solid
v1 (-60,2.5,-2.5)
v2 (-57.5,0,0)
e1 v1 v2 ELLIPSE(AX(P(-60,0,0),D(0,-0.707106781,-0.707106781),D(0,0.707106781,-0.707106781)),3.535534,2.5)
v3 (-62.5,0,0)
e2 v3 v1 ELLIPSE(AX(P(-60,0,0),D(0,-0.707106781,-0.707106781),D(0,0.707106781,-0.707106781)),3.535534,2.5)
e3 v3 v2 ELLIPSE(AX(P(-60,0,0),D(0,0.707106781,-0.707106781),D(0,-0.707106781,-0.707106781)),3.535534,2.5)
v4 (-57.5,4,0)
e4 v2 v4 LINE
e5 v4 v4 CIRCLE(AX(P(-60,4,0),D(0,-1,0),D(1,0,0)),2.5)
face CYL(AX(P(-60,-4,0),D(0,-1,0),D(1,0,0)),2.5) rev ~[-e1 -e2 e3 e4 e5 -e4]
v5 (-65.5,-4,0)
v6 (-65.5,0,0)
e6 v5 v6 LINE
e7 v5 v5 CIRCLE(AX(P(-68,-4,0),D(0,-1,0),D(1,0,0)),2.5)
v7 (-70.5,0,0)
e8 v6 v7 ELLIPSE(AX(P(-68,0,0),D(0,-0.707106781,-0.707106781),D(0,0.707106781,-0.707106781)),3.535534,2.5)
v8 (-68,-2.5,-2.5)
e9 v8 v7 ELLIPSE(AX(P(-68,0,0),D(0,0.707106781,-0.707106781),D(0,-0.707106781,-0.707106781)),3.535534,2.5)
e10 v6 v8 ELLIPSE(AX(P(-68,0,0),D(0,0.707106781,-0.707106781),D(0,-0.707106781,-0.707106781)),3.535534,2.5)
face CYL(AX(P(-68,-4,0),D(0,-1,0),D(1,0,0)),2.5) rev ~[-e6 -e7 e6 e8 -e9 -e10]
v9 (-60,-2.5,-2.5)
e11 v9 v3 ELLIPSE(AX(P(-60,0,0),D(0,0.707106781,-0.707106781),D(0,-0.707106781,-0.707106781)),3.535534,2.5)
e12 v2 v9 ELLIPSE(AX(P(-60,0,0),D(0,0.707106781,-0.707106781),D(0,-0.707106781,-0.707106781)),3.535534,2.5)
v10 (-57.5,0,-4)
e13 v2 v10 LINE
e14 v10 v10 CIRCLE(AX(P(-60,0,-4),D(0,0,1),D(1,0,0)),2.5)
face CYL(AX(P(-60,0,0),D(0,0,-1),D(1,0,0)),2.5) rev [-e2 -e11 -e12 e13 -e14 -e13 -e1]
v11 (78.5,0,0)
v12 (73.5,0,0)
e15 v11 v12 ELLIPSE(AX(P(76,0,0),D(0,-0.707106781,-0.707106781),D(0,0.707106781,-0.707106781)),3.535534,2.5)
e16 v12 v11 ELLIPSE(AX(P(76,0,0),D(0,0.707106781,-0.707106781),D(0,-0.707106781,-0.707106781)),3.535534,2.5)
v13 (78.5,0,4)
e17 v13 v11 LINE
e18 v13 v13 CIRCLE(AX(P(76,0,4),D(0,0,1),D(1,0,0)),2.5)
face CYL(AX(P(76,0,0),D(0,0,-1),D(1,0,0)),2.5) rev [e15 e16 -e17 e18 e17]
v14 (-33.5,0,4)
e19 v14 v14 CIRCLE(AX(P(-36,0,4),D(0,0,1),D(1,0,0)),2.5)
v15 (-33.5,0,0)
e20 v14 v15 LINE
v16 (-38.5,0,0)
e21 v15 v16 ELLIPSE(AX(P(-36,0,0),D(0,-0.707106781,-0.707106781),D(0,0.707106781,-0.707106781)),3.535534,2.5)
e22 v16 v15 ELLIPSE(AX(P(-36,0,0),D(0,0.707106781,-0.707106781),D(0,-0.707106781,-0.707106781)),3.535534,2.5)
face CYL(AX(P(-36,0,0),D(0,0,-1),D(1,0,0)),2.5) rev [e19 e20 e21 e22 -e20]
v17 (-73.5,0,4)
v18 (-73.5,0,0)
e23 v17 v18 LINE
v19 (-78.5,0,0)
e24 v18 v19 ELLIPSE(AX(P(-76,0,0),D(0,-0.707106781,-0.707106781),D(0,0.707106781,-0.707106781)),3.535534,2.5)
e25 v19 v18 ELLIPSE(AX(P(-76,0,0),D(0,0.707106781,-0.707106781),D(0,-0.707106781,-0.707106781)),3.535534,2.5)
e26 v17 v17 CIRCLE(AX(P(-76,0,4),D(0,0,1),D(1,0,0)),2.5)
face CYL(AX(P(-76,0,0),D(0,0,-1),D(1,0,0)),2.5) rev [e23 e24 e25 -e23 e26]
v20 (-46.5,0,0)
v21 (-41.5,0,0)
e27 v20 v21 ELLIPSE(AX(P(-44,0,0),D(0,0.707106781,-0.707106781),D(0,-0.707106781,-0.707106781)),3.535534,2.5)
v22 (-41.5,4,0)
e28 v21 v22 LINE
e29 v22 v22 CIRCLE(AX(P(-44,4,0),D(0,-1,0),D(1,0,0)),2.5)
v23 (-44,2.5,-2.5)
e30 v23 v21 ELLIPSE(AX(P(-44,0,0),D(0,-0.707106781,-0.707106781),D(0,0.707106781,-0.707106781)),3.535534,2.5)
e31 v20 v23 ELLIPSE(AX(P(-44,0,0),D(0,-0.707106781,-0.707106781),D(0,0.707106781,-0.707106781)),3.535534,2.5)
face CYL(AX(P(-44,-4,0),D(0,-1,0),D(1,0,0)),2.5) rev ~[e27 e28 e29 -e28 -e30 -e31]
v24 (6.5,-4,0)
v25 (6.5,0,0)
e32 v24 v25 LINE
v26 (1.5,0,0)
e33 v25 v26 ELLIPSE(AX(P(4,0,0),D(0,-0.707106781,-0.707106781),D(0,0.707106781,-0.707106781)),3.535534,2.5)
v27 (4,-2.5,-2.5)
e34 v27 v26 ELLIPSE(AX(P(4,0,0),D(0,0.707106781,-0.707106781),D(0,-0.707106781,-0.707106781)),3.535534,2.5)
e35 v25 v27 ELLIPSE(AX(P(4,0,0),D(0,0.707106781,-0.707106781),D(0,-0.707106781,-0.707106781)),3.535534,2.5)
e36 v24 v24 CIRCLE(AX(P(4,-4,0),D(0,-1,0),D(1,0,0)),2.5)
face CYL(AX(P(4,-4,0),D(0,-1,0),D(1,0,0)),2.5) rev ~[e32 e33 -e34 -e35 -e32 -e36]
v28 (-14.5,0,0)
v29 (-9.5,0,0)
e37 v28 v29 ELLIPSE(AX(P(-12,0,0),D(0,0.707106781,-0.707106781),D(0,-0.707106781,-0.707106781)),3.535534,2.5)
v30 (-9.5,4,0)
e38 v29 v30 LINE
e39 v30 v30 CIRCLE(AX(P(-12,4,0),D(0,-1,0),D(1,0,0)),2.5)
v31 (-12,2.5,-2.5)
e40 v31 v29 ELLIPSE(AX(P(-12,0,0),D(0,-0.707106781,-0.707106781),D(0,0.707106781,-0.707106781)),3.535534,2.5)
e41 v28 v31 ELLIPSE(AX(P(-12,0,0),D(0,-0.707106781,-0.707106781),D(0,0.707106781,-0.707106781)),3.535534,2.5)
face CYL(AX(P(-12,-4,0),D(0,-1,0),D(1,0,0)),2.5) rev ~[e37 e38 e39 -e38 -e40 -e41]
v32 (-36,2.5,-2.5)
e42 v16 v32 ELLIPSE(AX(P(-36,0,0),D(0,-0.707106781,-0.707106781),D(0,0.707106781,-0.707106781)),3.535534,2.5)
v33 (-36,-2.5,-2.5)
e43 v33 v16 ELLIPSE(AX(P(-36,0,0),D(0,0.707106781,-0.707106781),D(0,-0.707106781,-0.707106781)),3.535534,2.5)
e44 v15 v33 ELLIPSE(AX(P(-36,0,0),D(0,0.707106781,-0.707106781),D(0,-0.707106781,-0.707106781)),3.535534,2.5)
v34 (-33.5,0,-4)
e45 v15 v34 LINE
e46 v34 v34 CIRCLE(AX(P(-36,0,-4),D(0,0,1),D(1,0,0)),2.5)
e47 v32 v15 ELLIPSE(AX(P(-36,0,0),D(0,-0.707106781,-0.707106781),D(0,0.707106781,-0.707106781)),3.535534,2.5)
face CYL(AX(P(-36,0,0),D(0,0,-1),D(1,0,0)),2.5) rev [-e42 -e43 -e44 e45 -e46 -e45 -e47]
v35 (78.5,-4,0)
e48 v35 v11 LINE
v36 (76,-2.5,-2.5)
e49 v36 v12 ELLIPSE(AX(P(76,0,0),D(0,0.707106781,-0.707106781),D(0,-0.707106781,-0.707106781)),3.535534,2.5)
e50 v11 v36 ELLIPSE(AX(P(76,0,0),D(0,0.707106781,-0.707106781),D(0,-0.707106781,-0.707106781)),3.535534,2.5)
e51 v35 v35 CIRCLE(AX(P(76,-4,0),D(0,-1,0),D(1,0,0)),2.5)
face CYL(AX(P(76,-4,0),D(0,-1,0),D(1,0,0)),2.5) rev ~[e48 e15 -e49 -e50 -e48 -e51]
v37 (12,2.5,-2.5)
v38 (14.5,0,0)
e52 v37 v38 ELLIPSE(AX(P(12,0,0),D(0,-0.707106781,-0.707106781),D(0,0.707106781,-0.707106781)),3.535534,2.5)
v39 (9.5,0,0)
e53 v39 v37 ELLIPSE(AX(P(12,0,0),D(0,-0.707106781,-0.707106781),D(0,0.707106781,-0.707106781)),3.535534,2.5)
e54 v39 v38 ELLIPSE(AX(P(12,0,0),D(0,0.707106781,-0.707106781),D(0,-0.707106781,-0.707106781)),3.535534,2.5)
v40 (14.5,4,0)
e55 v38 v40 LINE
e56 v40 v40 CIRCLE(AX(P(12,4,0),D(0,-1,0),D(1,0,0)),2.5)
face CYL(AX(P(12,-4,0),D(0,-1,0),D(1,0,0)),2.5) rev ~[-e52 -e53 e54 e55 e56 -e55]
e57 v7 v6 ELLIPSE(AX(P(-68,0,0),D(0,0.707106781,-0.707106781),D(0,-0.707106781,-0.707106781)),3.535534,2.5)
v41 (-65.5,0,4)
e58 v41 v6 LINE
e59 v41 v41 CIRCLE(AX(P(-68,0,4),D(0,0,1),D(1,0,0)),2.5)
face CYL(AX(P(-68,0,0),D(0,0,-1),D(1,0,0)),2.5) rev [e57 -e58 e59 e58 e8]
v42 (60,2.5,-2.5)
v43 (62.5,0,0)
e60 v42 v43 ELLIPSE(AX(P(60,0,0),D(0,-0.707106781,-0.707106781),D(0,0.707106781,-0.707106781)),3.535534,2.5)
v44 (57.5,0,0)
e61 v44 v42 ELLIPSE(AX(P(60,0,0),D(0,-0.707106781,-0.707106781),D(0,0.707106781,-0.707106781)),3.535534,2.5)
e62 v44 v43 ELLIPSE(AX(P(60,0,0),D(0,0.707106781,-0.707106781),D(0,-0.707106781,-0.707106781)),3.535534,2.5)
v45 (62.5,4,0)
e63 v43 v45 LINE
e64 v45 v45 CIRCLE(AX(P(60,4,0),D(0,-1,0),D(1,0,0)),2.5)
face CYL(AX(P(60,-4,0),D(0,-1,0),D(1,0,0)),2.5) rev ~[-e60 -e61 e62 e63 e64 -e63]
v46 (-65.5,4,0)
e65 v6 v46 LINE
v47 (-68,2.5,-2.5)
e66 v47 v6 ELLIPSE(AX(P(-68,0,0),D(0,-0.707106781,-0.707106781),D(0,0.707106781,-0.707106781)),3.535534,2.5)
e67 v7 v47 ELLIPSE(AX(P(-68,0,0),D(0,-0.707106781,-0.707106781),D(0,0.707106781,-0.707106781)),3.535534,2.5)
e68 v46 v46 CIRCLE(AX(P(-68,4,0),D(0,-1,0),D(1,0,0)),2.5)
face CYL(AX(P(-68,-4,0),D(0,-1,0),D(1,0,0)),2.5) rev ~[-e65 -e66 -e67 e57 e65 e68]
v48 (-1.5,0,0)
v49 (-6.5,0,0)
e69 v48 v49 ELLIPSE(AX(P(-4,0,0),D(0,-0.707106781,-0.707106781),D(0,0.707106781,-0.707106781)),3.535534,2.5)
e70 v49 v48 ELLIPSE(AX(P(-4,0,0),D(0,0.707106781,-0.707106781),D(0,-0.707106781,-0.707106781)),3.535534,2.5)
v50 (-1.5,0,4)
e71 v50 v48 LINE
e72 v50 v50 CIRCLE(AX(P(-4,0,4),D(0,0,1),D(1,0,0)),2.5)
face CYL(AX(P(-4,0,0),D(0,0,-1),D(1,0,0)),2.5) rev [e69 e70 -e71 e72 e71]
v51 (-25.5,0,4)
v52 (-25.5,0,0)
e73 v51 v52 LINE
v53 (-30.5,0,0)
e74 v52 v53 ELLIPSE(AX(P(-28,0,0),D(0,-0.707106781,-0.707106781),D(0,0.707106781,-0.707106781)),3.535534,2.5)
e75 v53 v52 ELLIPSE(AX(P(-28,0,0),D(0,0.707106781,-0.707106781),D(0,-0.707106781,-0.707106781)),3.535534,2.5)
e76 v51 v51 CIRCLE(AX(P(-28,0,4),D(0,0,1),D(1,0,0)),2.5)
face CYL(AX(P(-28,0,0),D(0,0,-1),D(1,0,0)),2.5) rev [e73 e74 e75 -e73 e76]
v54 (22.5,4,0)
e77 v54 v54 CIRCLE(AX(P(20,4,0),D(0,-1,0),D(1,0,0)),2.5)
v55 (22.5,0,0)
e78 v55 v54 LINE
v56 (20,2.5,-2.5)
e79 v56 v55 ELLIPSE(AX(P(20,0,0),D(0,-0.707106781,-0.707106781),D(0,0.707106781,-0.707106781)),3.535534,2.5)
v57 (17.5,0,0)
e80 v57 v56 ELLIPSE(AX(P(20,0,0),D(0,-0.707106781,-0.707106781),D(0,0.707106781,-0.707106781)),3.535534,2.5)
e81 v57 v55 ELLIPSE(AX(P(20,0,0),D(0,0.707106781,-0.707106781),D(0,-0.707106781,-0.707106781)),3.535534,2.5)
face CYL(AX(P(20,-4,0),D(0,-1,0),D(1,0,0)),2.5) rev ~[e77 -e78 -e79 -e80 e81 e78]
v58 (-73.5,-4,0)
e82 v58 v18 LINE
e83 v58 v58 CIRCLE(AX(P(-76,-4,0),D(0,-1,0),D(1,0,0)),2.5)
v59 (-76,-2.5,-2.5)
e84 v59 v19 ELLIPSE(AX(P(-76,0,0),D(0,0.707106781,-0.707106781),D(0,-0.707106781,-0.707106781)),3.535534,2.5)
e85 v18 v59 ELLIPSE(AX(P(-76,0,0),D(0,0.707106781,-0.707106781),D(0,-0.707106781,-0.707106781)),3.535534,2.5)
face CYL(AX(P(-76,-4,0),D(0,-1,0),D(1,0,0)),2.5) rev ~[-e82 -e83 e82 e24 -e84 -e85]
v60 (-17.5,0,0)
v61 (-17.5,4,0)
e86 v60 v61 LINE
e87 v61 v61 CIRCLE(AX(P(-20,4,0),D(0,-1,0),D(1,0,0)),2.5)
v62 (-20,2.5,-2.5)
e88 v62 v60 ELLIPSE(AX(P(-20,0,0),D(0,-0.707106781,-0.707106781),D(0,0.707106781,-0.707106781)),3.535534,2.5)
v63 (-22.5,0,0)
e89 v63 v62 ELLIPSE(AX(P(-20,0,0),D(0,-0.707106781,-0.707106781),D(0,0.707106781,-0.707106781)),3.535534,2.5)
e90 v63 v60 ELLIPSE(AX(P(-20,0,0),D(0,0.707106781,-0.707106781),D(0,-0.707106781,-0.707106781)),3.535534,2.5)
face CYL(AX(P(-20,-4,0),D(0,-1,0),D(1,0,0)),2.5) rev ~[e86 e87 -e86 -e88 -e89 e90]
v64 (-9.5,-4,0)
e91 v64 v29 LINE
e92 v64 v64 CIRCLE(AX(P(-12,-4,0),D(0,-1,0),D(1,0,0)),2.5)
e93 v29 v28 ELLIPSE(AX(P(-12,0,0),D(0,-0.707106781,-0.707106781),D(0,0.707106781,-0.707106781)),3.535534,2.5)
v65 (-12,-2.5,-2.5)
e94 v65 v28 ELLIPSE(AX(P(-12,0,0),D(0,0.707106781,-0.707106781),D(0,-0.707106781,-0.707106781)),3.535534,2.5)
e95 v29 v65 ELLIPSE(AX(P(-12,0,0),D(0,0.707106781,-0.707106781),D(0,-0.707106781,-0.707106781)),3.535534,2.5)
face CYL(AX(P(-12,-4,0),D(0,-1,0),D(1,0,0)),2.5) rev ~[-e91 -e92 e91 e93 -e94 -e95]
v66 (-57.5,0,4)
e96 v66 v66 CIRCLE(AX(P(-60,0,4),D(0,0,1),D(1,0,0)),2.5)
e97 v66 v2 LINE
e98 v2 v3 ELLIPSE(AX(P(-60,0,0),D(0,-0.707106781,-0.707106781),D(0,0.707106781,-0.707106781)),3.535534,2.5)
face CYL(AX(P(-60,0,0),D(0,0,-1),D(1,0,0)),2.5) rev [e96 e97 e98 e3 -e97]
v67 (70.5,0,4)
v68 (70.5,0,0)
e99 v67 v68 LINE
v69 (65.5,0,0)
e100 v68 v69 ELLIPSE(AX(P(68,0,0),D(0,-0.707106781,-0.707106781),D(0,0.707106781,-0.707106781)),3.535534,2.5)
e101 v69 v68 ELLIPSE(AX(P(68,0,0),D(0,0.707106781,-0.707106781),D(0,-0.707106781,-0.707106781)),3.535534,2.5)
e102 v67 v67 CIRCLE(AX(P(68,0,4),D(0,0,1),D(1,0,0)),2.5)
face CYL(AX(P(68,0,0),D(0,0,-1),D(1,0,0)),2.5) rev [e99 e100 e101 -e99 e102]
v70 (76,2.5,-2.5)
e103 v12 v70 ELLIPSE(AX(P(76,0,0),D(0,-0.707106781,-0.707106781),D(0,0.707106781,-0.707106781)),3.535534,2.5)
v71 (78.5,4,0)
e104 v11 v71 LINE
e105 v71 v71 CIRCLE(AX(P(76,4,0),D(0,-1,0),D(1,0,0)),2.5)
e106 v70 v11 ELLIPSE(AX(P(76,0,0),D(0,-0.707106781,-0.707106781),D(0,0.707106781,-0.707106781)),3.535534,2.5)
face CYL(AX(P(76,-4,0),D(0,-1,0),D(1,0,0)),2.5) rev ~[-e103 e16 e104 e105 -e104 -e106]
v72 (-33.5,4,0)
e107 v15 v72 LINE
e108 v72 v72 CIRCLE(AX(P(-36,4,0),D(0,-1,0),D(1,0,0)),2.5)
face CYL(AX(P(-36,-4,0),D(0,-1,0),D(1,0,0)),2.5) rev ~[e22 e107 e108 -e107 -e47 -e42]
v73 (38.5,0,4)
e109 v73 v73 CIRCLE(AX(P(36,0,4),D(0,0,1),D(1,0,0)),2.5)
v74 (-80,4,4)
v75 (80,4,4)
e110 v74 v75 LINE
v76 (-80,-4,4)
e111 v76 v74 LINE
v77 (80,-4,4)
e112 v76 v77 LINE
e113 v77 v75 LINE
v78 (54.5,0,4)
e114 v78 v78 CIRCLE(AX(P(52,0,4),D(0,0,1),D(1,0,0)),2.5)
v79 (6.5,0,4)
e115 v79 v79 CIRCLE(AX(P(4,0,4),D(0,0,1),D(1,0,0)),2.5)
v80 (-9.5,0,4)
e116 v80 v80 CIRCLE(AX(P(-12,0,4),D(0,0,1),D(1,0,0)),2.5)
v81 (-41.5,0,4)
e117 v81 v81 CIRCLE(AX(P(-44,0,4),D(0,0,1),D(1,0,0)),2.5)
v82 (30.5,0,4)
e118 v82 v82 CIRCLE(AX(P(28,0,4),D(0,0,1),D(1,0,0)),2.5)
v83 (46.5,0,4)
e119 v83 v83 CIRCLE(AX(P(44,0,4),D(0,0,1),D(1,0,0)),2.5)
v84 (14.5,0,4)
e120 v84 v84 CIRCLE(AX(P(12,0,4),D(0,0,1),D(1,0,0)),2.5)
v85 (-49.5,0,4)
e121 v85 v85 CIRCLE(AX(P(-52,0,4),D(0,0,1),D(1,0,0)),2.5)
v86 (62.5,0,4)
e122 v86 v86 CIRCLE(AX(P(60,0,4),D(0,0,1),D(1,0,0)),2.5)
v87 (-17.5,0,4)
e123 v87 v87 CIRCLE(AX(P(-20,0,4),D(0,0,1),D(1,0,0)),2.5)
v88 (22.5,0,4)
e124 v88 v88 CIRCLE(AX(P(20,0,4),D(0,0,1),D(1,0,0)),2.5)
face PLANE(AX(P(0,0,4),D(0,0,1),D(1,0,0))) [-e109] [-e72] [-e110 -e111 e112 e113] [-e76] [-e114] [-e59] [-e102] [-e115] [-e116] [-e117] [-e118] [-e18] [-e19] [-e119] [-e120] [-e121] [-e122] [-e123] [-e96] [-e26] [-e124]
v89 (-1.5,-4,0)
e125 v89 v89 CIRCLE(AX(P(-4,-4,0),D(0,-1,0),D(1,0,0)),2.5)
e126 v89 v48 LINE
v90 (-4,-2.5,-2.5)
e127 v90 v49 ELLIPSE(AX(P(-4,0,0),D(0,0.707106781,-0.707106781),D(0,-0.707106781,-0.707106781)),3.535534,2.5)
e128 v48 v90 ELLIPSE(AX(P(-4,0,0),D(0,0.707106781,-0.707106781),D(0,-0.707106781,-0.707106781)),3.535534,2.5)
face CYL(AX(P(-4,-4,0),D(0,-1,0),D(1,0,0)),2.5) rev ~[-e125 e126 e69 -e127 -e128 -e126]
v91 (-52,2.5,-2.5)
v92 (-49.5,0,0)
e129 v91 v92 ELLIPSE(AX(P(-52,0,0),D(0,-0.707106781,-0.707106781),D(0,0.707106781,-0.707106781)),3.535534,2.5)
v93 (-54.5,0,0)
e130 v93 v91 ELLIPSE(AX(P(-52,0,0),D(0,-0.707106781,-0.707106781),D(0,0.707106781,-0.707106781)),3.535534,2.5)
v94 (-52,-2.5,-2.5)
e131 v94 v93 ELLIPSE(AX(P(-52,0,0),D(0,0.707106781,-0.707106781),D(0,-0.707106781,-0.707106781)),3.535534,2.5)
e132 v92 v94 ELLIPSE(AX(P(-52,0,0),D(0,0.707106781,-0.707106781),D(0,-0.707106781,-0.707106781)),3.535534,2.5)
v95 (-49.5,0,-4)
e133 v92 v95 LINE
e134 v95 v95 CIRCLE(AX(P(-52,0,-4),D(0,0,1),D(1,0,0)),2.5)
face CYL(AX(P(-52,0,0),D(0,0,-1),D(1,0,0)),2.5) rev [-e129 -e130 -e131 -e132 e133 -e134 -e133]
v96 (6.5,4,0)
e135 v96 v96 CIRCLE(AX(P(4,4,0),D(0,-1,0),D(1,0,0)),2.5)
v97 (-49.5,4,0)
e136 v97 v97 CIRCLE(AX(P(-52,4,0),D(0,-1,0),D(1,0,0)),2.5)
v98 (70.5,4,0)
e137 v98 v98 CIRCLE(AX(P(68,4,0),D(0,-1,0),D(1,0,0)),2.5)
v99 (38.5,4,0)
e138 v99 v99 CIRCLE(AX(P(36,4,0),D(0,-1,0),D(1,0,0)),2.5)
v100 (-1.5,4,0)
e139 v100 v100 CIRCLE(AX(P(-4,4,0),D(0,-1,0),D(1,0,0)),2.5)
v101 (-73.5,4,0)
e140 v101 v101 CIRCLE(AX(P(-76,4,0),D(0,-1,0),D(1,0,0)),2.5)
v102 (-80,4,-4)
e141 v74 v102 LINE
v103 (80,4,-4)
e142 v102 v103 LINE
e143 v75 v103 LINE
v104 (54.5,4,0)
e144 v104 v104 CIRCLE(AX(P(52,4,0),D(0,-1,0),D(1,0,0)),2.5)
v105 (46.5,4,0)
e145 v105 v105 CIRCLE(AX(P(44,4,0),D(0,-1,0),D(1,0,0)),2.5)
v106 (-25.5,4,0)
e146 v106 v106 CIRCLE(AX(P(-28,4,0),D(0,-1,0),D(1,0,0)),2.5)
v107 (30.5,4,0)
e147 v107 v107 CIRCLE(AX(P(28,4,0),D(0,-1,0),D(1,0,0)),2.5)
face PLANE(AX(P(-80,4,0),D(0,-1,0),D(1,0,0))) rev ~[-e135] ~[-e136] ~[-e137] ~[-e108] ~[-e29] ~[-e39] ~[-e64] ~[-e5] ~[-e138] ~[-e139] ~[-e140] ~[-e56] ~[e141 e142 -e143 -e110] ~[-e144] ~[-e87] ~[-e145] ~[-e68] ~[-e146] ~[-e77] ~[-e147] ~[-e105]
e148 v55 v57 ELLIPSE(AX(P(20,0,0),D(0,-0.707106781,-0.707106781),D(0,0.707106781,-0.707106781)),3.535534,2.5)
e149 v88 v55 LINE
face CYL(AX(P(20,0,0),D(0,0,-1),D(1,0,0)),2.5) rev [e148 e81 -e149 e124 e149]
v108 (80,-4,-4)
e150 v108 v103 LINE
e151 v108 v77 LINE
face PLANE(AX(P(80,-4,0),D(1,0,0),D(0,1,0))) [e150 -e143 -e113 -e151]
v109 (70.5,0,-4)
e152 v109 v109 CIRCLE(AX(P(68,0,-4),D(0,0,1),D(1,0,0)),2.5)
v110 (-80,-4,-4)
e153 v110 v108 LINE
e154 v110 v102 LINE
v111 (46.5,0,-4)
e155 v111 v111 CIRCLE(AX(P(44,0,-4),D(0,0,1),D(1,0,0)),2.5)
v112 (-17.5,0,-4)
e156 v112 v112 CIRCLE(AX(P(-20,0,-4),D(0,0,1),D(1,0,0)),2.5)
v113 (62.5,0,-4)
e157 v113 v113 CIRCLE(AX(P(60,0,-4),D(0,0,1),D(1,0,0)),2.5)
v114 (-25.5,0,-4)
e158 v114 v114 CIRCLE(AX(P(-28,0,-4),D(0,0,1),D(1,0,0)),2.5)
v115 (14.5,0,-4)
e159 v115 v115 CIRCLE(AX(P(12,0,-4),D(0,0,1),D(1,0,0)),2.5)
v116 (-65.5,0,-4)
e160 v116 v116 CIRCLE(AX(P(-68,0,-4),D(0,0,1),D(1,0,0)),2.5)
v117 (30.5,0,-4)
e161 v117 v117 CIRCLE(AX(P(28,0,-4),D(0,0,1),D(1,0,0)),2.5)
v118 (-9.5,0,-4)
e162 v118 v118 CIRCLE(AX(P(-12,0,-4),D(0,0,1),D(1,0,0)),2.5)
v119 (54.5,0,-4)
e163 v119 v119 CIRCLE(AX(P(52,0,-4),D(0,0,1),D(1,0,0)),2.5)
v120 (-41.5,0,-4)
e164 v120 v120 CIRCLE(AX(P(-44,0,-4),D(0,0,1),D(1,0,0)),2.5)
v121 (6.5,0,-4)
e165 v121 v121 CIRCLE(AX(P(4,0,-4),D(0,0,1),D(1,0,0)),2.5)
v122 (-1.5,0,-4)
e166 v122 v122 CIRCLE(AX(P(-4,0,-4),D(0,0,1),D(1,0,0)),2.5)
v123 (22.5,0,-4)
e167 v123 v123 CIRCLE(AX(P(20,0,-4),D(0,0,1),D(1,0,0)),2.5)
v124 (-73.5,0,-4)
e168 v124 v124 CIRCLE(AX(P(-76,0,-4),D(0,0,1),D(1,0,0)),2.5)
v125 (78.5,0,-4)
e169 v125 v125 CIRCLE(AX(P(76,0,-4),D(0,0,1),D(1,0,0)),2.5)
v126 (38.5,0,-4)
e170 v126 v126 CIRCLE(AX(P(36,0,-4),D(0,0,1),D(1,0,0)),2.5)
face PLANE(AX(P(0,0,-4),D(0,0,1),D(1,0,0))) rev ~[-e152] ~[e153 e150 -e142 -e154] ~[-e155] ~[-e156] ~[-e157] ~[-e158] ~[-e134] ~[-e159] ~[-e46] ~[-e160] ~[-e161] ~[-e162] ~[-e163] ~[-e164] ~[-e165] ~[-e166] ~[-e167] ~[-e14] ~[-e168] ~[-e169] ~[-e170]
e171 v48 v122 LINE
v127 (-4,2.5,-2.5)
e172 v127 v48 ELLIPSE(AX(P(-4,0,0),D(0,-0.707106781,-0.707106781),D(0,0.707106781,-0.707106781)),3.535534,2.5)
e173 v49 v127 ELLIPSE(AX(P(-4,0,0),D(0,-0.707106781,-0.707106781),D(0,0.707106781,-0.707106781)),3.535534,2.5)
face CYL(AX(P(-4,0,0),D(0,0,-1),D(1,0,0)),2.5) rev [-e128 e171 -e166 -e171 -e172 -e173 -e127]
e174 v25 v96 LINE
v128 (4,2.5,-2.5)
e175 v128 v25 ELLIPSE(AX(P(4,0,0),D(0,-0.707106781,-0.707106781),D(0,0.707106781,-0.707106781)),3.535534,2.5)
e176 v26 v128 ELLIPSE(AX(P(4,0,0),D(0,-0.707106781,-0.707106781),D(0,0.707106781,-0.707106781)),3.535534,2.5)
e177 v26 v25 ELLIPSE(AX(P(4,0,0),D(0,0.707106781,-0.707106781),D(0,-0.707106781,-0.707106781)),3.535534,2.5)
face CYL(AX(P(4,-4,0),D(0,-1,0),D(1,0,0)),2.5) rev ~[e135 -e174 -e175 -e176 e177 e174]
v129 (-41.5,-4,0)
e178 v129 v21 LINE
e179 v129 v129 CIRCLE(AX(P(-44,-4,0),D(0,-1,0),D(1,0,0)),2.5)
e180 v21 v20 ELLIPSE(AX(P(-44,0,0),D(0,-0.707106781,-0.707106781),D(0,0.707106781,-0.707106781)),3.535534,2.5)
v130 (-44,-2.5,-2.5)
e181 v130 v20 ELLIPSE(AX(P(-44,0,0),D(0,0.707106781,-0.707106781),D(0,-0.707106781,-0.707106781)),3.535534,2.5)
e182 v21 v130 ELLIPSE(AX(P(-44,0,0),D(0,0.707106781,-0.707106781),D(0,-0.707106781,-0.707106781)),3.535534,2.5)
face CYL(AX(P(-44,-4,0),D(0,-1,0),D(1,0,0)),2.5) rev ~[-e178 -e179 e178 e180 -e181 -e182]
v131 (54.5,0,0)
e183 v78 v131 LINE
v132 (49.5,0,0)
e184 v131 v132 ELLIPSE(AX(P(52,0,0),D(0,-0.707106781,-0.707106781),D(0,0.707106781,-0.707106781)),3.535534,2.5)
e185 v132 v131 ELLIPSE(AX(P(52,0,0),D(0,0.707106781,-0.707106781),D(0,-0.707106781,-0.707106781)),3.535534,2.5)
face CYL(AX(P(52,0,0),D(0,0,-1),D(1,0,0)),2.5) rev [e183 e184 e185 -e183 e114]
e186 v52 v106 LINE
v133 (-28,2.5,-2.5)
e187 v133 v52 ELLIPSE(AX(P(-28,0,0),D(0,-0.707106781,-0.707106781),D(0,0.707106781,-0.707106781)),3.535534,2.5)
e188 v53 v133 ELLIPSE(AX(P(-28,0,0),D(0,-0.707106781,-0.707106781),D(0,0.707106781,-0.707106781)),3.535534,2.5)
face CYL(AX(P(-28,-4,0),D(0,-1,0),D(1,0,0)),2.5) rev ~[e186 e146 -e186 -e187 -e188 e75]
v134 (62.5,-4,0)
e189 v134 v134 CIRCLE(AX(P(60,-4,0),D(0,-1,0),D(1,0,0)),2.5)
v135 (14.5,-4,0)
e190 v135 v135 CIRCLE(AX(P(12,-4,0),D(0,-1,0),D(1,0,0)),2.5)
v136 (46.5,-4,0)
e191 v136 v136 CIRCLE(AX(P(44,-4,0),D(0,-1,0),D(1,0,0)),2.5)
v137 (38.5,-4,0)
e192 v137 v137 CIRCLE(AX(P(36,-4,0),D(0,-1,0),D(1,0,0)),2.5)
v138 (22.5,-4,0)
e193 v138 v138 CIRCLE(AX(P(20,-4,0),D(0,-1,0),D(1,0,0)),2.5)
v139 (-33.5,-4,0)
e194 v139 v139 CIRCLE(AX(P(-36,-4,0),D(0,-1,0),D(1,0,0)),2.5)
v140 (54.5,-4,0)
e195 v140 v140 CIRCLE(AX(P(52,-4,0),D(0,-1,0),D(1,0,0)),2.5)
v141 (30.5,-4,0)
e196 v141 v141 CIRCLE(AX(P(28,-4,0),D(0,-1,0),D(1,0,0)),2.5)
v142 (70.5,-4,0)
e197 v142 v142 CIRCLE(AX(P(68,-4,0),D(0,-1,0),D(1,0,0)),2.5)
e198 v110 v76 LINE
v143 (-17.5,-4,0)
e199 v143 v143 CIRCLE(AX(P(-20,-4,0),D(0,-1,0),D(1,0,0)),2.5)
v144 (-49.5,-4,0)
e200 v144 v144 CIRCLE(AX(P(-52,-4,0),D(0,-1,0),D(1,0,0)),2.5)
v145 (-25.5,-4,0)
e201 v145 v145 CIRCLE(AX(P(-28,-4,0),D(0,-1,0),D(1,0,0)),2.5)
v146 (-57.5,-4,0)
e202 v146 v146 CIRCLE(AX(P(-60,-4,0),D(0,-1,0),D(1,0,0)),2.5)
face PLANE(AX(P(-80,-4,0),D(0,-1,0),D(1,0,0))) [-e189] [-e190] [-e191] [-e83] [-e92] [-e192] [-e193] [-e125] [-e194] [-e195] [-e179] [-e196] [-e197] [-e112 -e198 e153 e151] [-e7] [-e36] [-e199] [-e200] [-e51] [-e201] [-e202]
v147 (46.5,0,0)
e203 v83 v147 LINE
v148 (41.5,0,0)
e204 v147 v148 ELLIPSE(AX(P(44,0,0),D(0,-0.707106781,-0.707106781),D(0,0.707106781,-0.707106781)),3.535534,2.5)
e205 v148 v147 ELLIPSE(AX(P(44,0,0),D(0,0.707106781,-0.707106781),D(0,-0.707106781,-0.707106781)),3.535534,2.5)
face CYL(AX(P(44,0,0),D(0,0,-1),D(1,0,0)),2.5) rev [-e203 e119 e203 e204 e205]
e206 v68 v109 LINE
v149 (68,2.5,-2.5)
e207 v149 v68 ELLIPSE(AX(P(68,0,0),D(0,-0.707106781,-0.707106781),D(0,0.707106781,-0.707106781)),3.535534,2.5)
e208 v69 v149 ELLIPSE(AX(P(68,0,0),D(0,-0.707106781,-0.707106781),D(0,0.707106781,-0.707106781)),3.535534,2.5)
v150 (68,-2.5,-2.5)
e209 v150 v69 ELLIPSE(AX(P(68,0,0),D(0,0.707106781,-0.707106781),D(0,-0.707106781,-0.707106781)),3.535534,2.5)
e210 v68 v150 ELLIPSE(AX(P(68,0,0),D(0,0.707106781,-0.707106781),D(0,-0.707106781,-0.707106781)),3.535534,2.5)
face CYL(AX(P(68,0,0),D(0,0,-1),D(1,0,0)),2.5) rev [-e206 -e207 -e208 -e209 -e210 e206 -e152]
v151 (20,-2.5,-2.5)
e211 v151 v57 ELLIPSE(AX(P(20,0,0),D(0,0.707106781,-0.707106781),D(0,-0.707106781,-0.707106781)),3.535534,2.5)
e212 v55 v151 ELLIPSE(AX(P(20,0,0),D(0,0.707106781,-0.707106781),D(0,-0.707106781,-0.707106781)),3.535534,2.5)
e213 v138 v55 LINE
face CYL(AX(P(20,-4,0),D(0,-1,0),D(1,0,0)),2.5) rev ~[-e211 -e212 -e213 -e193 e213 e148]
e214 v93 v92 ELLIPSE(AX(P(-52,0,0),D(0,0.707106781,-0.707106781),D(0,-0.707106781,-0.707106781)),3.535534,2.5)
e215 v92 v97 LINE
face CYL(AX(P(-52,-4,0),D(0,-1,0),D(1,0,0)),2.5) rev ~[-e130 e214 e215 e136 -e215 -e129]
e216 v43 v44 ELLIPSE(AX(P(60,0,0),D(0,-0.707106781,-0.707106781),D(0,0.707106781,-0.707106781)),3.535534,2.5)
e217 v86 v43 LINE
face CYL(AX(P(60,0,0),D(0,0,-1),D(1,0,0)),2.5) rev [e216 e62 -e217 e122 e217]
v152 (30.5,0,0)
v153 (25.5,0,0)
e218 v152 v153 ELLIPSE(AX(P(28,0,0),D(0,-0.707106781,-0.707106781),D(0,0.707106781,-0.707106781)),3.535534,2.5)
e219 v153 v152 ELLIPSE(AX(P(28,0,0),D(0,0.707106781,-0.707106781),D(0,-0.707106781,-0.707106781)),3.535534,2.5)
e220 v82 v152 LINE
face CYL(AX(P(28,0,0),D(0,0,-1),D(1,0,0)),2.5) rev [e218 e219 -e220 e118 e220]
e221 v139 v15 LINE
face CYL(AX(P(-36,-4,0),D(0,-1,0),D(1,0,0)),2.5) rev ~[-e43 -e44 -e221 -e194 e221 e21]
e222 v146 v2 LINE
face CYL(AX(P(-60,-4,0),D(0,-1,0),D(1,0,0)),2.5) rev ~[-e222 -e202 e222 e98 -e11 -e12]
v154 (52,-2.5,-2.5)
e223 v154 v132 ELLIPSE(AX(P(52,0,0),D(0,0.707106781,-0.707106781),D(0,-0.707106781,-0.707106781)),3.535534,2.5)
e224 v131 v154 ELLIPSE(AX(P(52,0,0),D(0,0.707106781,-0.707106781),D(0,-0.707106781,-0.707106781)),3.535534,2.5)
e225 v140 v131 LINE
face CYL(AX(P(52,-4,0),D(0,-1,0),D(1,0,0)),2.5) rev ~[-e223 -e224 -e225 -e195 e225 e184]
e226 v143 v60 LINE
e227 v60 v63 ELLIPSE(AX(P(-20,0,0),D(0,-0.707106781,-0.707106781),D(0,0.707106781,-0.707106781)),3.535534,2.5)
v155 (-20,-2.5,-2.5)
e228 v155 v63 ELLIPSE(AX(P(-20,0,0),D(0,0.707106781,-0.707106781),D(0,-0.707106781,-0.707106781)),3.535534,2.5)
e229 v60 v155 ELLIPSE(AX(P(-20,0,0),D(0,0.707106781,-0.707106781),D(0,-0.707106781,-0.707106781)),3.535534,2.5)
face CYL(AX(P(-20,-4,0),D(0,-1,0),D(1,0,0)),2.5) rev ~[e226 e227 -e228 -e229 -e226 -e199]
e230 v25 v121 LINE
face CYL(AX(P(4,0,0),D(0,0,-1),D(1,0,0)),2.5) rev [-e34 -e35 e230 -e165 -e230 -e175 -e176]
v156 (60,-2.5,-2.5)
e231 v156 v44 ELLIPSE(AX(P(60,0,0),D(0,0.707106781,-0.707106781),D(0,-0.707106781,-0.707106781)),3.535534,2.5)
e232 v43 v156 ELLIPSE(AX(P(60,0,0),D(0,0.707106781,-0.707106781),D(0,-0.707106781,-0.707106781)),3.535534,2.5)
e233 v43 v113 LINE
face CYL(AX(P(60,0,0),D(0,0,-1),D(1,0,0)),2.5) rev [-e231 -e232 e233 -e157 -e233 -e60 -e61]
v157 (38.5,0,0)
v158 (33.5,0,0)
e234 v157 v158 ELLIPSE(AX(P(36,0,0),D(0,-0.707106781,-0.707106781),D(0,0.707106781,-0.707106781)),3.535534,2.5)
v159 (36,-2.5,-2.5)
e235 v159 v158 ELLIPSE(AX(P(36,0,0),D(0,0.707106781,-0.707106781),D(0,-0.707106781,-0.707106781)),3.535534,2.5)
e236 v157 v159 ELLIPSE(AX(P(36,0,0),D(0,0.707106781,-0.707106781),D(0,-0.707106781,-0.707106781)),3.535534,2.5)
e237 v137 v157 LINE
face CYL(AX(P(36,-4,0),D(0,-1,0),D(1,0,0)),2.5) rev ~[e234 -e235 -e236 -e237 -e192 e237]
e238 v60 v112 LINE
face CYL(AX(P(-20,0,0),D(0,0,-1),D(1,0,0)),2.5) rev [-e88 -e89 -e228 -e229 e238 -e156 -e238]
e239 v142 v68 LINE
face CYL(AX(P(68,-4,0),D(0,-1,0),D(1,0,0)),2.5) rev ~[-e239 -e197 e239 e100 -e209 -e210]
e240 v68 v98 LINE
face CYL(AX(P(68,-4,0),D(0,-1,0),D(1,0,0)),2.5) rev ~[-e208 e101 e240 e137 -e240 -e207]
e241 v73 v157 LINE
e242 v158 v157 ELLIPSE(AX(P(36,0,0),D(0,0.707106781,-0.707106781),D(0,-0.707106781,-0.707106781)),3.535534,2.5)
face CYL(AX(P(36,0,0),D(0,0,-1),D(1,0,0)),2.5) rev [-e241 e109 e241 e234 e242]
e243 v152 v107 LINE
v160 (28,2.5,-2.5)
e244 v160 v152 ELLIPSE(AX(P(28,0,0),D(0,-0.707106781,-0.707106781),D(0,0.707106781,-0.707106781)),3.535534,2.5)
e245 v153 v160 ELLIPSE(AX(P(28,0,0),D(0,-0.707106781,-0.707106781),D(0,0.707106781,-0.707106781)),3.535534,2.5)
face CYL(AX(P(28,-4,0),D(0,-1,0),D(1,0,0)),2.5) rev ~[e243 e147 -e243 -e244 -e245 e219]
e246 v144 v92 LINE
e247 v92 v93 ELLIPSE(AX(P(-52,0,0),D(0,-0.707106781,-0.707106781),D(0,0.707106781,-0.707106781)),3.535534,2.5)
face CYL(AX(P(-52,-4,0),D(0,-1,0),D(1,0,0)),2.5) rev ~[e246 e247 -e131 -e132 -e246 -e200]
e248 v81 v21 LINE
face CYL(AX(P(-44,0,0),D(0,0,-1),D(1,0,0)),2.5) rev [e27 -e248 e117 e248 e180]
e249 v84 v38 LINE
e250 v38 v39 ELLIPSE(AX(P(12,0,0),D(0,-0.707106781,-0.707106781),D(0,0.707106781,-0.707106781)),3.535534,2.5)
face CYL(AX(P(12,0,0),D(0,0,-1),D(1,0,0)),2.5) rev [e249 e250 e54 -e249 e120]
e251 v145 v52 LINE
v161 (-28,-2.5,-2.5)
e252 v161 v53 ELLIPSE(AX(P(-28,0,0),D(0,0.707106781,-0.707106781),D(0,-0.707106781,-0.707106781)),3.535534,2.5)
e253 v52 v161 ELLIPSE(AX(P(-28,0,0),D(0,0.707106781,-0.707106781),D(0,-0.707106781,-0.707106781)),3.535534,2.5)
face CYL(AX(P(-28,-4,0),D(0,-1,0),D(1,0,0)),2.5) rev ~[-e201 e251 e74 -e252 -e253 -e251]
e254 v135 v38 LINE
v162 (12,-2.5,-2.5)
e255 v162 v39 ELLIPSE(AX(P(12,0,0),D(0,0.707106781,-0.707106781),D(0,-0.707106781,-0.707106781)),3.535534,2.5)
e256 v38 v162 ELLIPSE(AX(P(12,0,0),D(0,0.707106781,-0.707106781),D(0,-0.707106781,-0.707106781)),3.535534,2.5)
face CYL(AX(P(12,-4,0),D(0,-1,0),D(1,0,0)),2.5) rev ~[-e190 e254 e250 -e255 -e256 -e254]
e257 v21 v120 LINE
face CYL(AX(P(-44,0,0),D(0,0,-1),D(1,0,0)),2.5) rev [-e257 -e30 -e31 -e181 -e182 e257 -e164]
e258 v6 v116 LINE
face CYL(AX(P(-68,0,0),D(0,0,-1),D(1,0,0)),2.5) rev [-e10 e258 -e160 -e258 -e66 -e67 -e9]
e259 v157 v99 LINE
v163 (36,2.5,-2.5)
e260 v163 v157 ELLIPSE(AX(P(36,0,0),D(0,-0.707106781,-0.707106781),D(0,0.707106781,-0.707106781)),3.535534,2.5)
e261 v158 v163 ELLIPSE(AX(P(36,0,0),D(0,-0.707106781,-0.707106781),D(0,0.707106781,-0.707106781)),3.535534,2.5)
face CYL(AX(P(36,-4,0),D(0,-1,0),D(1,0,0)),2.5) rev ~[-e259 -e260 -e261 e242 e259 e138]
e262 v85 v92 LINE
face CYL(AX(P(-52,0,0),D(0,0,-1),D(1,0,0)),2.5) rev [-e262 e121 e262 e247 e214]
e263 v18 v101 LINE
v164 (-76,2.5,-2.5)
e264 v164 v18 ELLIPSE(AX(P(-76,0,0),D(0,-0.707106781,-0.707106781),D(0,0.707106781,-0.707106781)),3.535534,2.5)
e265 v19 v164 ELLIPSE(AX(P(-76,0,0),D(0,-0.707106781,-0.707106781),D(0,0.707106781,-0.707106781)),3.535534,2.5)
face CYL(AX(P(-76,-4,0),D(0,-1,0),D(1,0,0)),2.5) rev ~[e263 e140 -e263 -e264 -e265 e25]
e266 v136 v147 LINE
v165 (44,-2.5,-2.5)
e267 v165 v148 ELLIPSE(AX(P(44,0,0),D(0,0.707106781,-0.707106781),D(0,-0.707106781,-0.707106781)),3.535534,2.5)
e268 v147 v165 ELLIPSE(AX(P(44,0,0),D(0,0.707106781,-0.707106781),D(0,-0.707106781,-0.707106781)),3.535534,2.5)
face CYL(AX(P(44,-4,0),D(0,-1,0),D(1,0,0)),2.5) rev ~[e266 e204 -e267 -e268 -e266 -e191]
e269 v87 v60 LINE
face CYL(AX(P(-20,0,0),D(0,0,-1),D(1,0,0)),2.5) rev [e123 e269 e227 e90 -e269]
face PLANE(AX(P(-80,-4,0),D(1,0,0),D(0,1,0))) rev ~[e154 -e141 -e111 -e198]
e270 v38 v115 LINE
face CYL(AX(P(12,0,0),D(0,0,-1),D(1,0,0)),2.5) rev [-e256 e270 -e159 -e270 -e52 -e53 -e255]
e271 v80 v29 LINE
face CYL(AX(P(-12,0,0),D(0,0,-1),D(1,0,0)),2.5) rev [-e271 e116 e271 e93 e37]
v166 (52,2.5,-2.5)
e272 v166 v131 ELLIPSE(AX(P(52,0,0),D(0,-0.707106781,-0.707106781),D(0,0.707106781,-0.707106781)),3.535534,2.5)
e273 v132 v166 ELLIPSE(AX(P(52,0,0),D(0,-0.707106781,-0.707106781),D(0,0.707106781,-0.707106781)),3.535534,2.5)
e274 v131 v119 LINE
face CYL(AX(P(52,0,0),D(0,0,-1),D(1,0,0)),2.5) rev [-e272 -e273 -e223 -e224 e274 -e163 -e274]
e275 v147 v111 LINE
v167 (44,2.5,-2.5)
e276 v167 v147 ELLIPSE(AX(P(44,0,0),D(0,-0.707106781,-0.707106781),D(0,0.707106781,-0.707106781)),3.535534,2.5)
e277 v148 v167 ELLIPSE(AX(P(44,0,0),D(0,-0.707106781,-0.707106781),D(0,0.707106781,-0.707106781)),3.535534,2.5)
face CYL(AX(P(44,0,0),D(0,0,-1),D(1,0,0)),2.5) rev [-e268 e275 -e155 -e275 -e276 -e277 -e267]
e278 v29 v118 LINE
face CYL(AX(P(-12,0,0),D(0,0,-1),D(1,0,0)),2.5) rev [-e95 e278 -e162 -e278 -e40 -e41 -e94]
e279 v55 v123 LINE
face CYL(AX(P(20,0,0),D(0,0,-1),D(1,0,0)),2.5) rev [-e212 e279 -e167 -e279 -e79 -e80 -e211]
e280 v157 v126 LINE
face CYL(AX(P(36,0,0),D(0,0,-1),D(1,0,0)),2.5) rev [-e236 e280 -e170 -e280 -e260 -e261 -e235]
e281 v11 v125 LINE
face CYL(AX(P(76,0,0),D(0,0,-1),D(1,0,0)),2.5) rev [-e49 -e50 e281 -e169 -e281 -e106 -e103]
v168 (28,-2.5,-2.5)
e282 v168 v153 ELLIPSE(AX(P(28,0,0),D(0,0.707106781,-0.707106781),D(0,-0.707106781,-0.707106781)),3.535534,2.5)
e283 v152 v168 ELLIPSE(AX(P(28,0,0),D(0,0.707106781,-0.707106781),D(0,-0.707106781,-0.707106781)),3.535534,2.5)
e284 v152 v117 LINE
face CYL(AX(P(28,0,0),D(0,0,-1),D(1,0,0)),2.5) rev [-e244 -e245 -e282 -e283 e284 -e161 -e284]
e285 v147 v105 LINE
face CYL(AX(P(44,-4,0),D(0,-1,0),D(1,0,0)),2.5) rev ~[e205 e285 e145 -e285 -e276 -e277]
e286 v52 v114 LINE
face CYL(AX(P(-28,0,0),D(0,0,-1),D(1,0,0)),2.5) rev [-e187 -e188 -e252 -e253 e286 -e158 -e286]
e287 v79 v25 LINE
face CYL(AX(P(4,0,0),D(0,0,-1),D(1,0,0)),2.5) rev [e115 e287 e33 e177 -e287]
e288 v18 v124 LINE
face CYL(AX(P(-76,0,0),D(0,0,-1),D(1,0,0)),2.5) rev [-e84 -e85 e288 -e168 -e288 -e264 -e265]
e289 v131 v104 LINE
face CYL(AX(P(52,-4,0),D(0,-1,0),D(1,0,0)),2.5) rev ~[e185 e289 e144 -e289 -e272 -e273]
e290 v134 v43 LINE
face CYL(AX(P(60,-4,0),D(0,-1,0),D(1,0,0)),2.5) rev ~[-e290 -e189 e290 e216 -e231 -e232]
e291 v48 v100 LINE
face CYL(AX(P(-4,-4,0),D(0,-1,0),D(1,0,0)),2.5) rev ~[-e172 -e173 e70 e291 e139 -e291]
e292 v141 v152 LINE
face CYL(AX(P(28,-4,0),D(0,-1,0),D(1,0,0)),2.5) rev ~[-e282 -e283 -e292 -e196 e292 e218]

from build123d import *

# Parameters (mm, degrees)
F0_W     = 160
F0_H     = 8
F0_R     = 2.5
F1_DEPTH = 4
F2_R     = 2.5
F3_DEPTH = 8


with BuildPart() as f1:
    # F0 (on Top) → F1 (new body, symmetric)
    with BuildSketch(Plane.XY):
        Rectangle(F0_W, F0_H)
        with Locations((-76, 0)):
            Circle(F0_R, mode=Mode.SUBTRACT)
        with Locations((-68, 0)):
            Circle(F0_R, mode=Mode.SUBTRACT)
        with Locations((-60, 0)):
            Circle(F0_R, mode=Mode.SUBTRACT)
        with Locations((-52, 0)):
            Circle(F0_R, mode=Mode.SUBTRACT)
        with Locations((-44, 0)):
            Circle(F0_R, mode=Mode.SUBTRACT)
        with Locations((-36, 0)):
            Circle(F0_R, mode=Mode.SUBTRACT)
        with Locations((-28, 0)):
            Circle(F0_R, mode=Mode.SUBTRACT)
        with Locations((-20, 0)):
            Circle(F0_R, mode=Mode.SUBTRACT)
        with Locations((-12, 0)):
            Circle(F0_R, mode=Mode.SUBTRACT)
        with Locations((-4, 0)):
            Circle(F0_R, mode=Mode.SUBTRACT)
        with Locations((4, 0)):
            Circle(F0_R, mode=Mode.SUBTRACT)
        with Locations((12, 0)):
            Circle(F0_R, mode=Mode.SUBTRACT)
        with Locations((20, 0)):
            Circle(F0_R, mode=Mode.SUBTRACT)
        with Locations((28, 0)):
            Circle(F0_R, mode=Mode.SUBTRACT)
        with Locations((36, 0)):
            Circle(F0_R, mode=Mode.SUBTRACT)
        with Locations((44, 0)):
            Circle(F0_R, mode=Mode.SUBTRACT)
        with Locations((52, 0)):
            Circle(F0_R, mode=Mode.SUBTRACT)
        with Locations((60, 0)):
            Circle(F0_R, mode=Mode.SUBTRACT)
        with Locations((68, 0)):
            Circle(F0_R, mode=Mode.SUBTRACT)
        with Locations((76, 0)):
            Circle(F0_R, mode=Mode.SUBTRACT)
    extrude(amount=F1_DEPTH, both=True)

    # F2 (on face) → F3 (cut, through all)
    with BuildSketch(Plane.XZ.offset(4)):
        with Locations((-76, 0)):
            Circle(F2_R)
        with Locations((-68, 0)):
            Circle(F2_R)
        with Locations((-60, 0)):
            Circle(F2_R)
        with Locations((-52, 0)):
            Circle(F2_R)
        with Locations((-44, 0)):
            Circle(F2_R)
        with Locations((-36, 0)):
            Circle(F2_R)
        with Locations((-28, 0)):
            Circle(F2_R)
        with Locations((-20, 0)):
            Circle(F2_R)
        with Locations((-12, 0)):
            Circle(F2_R)
        with Locations((-4, 0)):
            Circle(F2_R)
        with Locations((4, 0)):
            Circle(F2_R)
        with Locations((12, 0)):
            Circle(F2_R)
        with Locations((20, 0)):
            Circle(F2_R)
        with Locations((28, 0)):
            Circle(F2_R)
        with Locations((36, 0)):
            Circle(F2_R)
        with Locations((44, 0)):
            Circle(F2_R)
        with Locations((52, 0)):
            Circle(F2_R)
        with Locations((60, 0)):
            Circle(F2_R)
        with Locations((68, 0)):
            Circle(F2_R)
        with Locations((76, 0)):
            Circle(F2_R)
    extrude(amount=-F3_DEPTH, mode=Mode.SUBTRACT)


solid = f1.part
